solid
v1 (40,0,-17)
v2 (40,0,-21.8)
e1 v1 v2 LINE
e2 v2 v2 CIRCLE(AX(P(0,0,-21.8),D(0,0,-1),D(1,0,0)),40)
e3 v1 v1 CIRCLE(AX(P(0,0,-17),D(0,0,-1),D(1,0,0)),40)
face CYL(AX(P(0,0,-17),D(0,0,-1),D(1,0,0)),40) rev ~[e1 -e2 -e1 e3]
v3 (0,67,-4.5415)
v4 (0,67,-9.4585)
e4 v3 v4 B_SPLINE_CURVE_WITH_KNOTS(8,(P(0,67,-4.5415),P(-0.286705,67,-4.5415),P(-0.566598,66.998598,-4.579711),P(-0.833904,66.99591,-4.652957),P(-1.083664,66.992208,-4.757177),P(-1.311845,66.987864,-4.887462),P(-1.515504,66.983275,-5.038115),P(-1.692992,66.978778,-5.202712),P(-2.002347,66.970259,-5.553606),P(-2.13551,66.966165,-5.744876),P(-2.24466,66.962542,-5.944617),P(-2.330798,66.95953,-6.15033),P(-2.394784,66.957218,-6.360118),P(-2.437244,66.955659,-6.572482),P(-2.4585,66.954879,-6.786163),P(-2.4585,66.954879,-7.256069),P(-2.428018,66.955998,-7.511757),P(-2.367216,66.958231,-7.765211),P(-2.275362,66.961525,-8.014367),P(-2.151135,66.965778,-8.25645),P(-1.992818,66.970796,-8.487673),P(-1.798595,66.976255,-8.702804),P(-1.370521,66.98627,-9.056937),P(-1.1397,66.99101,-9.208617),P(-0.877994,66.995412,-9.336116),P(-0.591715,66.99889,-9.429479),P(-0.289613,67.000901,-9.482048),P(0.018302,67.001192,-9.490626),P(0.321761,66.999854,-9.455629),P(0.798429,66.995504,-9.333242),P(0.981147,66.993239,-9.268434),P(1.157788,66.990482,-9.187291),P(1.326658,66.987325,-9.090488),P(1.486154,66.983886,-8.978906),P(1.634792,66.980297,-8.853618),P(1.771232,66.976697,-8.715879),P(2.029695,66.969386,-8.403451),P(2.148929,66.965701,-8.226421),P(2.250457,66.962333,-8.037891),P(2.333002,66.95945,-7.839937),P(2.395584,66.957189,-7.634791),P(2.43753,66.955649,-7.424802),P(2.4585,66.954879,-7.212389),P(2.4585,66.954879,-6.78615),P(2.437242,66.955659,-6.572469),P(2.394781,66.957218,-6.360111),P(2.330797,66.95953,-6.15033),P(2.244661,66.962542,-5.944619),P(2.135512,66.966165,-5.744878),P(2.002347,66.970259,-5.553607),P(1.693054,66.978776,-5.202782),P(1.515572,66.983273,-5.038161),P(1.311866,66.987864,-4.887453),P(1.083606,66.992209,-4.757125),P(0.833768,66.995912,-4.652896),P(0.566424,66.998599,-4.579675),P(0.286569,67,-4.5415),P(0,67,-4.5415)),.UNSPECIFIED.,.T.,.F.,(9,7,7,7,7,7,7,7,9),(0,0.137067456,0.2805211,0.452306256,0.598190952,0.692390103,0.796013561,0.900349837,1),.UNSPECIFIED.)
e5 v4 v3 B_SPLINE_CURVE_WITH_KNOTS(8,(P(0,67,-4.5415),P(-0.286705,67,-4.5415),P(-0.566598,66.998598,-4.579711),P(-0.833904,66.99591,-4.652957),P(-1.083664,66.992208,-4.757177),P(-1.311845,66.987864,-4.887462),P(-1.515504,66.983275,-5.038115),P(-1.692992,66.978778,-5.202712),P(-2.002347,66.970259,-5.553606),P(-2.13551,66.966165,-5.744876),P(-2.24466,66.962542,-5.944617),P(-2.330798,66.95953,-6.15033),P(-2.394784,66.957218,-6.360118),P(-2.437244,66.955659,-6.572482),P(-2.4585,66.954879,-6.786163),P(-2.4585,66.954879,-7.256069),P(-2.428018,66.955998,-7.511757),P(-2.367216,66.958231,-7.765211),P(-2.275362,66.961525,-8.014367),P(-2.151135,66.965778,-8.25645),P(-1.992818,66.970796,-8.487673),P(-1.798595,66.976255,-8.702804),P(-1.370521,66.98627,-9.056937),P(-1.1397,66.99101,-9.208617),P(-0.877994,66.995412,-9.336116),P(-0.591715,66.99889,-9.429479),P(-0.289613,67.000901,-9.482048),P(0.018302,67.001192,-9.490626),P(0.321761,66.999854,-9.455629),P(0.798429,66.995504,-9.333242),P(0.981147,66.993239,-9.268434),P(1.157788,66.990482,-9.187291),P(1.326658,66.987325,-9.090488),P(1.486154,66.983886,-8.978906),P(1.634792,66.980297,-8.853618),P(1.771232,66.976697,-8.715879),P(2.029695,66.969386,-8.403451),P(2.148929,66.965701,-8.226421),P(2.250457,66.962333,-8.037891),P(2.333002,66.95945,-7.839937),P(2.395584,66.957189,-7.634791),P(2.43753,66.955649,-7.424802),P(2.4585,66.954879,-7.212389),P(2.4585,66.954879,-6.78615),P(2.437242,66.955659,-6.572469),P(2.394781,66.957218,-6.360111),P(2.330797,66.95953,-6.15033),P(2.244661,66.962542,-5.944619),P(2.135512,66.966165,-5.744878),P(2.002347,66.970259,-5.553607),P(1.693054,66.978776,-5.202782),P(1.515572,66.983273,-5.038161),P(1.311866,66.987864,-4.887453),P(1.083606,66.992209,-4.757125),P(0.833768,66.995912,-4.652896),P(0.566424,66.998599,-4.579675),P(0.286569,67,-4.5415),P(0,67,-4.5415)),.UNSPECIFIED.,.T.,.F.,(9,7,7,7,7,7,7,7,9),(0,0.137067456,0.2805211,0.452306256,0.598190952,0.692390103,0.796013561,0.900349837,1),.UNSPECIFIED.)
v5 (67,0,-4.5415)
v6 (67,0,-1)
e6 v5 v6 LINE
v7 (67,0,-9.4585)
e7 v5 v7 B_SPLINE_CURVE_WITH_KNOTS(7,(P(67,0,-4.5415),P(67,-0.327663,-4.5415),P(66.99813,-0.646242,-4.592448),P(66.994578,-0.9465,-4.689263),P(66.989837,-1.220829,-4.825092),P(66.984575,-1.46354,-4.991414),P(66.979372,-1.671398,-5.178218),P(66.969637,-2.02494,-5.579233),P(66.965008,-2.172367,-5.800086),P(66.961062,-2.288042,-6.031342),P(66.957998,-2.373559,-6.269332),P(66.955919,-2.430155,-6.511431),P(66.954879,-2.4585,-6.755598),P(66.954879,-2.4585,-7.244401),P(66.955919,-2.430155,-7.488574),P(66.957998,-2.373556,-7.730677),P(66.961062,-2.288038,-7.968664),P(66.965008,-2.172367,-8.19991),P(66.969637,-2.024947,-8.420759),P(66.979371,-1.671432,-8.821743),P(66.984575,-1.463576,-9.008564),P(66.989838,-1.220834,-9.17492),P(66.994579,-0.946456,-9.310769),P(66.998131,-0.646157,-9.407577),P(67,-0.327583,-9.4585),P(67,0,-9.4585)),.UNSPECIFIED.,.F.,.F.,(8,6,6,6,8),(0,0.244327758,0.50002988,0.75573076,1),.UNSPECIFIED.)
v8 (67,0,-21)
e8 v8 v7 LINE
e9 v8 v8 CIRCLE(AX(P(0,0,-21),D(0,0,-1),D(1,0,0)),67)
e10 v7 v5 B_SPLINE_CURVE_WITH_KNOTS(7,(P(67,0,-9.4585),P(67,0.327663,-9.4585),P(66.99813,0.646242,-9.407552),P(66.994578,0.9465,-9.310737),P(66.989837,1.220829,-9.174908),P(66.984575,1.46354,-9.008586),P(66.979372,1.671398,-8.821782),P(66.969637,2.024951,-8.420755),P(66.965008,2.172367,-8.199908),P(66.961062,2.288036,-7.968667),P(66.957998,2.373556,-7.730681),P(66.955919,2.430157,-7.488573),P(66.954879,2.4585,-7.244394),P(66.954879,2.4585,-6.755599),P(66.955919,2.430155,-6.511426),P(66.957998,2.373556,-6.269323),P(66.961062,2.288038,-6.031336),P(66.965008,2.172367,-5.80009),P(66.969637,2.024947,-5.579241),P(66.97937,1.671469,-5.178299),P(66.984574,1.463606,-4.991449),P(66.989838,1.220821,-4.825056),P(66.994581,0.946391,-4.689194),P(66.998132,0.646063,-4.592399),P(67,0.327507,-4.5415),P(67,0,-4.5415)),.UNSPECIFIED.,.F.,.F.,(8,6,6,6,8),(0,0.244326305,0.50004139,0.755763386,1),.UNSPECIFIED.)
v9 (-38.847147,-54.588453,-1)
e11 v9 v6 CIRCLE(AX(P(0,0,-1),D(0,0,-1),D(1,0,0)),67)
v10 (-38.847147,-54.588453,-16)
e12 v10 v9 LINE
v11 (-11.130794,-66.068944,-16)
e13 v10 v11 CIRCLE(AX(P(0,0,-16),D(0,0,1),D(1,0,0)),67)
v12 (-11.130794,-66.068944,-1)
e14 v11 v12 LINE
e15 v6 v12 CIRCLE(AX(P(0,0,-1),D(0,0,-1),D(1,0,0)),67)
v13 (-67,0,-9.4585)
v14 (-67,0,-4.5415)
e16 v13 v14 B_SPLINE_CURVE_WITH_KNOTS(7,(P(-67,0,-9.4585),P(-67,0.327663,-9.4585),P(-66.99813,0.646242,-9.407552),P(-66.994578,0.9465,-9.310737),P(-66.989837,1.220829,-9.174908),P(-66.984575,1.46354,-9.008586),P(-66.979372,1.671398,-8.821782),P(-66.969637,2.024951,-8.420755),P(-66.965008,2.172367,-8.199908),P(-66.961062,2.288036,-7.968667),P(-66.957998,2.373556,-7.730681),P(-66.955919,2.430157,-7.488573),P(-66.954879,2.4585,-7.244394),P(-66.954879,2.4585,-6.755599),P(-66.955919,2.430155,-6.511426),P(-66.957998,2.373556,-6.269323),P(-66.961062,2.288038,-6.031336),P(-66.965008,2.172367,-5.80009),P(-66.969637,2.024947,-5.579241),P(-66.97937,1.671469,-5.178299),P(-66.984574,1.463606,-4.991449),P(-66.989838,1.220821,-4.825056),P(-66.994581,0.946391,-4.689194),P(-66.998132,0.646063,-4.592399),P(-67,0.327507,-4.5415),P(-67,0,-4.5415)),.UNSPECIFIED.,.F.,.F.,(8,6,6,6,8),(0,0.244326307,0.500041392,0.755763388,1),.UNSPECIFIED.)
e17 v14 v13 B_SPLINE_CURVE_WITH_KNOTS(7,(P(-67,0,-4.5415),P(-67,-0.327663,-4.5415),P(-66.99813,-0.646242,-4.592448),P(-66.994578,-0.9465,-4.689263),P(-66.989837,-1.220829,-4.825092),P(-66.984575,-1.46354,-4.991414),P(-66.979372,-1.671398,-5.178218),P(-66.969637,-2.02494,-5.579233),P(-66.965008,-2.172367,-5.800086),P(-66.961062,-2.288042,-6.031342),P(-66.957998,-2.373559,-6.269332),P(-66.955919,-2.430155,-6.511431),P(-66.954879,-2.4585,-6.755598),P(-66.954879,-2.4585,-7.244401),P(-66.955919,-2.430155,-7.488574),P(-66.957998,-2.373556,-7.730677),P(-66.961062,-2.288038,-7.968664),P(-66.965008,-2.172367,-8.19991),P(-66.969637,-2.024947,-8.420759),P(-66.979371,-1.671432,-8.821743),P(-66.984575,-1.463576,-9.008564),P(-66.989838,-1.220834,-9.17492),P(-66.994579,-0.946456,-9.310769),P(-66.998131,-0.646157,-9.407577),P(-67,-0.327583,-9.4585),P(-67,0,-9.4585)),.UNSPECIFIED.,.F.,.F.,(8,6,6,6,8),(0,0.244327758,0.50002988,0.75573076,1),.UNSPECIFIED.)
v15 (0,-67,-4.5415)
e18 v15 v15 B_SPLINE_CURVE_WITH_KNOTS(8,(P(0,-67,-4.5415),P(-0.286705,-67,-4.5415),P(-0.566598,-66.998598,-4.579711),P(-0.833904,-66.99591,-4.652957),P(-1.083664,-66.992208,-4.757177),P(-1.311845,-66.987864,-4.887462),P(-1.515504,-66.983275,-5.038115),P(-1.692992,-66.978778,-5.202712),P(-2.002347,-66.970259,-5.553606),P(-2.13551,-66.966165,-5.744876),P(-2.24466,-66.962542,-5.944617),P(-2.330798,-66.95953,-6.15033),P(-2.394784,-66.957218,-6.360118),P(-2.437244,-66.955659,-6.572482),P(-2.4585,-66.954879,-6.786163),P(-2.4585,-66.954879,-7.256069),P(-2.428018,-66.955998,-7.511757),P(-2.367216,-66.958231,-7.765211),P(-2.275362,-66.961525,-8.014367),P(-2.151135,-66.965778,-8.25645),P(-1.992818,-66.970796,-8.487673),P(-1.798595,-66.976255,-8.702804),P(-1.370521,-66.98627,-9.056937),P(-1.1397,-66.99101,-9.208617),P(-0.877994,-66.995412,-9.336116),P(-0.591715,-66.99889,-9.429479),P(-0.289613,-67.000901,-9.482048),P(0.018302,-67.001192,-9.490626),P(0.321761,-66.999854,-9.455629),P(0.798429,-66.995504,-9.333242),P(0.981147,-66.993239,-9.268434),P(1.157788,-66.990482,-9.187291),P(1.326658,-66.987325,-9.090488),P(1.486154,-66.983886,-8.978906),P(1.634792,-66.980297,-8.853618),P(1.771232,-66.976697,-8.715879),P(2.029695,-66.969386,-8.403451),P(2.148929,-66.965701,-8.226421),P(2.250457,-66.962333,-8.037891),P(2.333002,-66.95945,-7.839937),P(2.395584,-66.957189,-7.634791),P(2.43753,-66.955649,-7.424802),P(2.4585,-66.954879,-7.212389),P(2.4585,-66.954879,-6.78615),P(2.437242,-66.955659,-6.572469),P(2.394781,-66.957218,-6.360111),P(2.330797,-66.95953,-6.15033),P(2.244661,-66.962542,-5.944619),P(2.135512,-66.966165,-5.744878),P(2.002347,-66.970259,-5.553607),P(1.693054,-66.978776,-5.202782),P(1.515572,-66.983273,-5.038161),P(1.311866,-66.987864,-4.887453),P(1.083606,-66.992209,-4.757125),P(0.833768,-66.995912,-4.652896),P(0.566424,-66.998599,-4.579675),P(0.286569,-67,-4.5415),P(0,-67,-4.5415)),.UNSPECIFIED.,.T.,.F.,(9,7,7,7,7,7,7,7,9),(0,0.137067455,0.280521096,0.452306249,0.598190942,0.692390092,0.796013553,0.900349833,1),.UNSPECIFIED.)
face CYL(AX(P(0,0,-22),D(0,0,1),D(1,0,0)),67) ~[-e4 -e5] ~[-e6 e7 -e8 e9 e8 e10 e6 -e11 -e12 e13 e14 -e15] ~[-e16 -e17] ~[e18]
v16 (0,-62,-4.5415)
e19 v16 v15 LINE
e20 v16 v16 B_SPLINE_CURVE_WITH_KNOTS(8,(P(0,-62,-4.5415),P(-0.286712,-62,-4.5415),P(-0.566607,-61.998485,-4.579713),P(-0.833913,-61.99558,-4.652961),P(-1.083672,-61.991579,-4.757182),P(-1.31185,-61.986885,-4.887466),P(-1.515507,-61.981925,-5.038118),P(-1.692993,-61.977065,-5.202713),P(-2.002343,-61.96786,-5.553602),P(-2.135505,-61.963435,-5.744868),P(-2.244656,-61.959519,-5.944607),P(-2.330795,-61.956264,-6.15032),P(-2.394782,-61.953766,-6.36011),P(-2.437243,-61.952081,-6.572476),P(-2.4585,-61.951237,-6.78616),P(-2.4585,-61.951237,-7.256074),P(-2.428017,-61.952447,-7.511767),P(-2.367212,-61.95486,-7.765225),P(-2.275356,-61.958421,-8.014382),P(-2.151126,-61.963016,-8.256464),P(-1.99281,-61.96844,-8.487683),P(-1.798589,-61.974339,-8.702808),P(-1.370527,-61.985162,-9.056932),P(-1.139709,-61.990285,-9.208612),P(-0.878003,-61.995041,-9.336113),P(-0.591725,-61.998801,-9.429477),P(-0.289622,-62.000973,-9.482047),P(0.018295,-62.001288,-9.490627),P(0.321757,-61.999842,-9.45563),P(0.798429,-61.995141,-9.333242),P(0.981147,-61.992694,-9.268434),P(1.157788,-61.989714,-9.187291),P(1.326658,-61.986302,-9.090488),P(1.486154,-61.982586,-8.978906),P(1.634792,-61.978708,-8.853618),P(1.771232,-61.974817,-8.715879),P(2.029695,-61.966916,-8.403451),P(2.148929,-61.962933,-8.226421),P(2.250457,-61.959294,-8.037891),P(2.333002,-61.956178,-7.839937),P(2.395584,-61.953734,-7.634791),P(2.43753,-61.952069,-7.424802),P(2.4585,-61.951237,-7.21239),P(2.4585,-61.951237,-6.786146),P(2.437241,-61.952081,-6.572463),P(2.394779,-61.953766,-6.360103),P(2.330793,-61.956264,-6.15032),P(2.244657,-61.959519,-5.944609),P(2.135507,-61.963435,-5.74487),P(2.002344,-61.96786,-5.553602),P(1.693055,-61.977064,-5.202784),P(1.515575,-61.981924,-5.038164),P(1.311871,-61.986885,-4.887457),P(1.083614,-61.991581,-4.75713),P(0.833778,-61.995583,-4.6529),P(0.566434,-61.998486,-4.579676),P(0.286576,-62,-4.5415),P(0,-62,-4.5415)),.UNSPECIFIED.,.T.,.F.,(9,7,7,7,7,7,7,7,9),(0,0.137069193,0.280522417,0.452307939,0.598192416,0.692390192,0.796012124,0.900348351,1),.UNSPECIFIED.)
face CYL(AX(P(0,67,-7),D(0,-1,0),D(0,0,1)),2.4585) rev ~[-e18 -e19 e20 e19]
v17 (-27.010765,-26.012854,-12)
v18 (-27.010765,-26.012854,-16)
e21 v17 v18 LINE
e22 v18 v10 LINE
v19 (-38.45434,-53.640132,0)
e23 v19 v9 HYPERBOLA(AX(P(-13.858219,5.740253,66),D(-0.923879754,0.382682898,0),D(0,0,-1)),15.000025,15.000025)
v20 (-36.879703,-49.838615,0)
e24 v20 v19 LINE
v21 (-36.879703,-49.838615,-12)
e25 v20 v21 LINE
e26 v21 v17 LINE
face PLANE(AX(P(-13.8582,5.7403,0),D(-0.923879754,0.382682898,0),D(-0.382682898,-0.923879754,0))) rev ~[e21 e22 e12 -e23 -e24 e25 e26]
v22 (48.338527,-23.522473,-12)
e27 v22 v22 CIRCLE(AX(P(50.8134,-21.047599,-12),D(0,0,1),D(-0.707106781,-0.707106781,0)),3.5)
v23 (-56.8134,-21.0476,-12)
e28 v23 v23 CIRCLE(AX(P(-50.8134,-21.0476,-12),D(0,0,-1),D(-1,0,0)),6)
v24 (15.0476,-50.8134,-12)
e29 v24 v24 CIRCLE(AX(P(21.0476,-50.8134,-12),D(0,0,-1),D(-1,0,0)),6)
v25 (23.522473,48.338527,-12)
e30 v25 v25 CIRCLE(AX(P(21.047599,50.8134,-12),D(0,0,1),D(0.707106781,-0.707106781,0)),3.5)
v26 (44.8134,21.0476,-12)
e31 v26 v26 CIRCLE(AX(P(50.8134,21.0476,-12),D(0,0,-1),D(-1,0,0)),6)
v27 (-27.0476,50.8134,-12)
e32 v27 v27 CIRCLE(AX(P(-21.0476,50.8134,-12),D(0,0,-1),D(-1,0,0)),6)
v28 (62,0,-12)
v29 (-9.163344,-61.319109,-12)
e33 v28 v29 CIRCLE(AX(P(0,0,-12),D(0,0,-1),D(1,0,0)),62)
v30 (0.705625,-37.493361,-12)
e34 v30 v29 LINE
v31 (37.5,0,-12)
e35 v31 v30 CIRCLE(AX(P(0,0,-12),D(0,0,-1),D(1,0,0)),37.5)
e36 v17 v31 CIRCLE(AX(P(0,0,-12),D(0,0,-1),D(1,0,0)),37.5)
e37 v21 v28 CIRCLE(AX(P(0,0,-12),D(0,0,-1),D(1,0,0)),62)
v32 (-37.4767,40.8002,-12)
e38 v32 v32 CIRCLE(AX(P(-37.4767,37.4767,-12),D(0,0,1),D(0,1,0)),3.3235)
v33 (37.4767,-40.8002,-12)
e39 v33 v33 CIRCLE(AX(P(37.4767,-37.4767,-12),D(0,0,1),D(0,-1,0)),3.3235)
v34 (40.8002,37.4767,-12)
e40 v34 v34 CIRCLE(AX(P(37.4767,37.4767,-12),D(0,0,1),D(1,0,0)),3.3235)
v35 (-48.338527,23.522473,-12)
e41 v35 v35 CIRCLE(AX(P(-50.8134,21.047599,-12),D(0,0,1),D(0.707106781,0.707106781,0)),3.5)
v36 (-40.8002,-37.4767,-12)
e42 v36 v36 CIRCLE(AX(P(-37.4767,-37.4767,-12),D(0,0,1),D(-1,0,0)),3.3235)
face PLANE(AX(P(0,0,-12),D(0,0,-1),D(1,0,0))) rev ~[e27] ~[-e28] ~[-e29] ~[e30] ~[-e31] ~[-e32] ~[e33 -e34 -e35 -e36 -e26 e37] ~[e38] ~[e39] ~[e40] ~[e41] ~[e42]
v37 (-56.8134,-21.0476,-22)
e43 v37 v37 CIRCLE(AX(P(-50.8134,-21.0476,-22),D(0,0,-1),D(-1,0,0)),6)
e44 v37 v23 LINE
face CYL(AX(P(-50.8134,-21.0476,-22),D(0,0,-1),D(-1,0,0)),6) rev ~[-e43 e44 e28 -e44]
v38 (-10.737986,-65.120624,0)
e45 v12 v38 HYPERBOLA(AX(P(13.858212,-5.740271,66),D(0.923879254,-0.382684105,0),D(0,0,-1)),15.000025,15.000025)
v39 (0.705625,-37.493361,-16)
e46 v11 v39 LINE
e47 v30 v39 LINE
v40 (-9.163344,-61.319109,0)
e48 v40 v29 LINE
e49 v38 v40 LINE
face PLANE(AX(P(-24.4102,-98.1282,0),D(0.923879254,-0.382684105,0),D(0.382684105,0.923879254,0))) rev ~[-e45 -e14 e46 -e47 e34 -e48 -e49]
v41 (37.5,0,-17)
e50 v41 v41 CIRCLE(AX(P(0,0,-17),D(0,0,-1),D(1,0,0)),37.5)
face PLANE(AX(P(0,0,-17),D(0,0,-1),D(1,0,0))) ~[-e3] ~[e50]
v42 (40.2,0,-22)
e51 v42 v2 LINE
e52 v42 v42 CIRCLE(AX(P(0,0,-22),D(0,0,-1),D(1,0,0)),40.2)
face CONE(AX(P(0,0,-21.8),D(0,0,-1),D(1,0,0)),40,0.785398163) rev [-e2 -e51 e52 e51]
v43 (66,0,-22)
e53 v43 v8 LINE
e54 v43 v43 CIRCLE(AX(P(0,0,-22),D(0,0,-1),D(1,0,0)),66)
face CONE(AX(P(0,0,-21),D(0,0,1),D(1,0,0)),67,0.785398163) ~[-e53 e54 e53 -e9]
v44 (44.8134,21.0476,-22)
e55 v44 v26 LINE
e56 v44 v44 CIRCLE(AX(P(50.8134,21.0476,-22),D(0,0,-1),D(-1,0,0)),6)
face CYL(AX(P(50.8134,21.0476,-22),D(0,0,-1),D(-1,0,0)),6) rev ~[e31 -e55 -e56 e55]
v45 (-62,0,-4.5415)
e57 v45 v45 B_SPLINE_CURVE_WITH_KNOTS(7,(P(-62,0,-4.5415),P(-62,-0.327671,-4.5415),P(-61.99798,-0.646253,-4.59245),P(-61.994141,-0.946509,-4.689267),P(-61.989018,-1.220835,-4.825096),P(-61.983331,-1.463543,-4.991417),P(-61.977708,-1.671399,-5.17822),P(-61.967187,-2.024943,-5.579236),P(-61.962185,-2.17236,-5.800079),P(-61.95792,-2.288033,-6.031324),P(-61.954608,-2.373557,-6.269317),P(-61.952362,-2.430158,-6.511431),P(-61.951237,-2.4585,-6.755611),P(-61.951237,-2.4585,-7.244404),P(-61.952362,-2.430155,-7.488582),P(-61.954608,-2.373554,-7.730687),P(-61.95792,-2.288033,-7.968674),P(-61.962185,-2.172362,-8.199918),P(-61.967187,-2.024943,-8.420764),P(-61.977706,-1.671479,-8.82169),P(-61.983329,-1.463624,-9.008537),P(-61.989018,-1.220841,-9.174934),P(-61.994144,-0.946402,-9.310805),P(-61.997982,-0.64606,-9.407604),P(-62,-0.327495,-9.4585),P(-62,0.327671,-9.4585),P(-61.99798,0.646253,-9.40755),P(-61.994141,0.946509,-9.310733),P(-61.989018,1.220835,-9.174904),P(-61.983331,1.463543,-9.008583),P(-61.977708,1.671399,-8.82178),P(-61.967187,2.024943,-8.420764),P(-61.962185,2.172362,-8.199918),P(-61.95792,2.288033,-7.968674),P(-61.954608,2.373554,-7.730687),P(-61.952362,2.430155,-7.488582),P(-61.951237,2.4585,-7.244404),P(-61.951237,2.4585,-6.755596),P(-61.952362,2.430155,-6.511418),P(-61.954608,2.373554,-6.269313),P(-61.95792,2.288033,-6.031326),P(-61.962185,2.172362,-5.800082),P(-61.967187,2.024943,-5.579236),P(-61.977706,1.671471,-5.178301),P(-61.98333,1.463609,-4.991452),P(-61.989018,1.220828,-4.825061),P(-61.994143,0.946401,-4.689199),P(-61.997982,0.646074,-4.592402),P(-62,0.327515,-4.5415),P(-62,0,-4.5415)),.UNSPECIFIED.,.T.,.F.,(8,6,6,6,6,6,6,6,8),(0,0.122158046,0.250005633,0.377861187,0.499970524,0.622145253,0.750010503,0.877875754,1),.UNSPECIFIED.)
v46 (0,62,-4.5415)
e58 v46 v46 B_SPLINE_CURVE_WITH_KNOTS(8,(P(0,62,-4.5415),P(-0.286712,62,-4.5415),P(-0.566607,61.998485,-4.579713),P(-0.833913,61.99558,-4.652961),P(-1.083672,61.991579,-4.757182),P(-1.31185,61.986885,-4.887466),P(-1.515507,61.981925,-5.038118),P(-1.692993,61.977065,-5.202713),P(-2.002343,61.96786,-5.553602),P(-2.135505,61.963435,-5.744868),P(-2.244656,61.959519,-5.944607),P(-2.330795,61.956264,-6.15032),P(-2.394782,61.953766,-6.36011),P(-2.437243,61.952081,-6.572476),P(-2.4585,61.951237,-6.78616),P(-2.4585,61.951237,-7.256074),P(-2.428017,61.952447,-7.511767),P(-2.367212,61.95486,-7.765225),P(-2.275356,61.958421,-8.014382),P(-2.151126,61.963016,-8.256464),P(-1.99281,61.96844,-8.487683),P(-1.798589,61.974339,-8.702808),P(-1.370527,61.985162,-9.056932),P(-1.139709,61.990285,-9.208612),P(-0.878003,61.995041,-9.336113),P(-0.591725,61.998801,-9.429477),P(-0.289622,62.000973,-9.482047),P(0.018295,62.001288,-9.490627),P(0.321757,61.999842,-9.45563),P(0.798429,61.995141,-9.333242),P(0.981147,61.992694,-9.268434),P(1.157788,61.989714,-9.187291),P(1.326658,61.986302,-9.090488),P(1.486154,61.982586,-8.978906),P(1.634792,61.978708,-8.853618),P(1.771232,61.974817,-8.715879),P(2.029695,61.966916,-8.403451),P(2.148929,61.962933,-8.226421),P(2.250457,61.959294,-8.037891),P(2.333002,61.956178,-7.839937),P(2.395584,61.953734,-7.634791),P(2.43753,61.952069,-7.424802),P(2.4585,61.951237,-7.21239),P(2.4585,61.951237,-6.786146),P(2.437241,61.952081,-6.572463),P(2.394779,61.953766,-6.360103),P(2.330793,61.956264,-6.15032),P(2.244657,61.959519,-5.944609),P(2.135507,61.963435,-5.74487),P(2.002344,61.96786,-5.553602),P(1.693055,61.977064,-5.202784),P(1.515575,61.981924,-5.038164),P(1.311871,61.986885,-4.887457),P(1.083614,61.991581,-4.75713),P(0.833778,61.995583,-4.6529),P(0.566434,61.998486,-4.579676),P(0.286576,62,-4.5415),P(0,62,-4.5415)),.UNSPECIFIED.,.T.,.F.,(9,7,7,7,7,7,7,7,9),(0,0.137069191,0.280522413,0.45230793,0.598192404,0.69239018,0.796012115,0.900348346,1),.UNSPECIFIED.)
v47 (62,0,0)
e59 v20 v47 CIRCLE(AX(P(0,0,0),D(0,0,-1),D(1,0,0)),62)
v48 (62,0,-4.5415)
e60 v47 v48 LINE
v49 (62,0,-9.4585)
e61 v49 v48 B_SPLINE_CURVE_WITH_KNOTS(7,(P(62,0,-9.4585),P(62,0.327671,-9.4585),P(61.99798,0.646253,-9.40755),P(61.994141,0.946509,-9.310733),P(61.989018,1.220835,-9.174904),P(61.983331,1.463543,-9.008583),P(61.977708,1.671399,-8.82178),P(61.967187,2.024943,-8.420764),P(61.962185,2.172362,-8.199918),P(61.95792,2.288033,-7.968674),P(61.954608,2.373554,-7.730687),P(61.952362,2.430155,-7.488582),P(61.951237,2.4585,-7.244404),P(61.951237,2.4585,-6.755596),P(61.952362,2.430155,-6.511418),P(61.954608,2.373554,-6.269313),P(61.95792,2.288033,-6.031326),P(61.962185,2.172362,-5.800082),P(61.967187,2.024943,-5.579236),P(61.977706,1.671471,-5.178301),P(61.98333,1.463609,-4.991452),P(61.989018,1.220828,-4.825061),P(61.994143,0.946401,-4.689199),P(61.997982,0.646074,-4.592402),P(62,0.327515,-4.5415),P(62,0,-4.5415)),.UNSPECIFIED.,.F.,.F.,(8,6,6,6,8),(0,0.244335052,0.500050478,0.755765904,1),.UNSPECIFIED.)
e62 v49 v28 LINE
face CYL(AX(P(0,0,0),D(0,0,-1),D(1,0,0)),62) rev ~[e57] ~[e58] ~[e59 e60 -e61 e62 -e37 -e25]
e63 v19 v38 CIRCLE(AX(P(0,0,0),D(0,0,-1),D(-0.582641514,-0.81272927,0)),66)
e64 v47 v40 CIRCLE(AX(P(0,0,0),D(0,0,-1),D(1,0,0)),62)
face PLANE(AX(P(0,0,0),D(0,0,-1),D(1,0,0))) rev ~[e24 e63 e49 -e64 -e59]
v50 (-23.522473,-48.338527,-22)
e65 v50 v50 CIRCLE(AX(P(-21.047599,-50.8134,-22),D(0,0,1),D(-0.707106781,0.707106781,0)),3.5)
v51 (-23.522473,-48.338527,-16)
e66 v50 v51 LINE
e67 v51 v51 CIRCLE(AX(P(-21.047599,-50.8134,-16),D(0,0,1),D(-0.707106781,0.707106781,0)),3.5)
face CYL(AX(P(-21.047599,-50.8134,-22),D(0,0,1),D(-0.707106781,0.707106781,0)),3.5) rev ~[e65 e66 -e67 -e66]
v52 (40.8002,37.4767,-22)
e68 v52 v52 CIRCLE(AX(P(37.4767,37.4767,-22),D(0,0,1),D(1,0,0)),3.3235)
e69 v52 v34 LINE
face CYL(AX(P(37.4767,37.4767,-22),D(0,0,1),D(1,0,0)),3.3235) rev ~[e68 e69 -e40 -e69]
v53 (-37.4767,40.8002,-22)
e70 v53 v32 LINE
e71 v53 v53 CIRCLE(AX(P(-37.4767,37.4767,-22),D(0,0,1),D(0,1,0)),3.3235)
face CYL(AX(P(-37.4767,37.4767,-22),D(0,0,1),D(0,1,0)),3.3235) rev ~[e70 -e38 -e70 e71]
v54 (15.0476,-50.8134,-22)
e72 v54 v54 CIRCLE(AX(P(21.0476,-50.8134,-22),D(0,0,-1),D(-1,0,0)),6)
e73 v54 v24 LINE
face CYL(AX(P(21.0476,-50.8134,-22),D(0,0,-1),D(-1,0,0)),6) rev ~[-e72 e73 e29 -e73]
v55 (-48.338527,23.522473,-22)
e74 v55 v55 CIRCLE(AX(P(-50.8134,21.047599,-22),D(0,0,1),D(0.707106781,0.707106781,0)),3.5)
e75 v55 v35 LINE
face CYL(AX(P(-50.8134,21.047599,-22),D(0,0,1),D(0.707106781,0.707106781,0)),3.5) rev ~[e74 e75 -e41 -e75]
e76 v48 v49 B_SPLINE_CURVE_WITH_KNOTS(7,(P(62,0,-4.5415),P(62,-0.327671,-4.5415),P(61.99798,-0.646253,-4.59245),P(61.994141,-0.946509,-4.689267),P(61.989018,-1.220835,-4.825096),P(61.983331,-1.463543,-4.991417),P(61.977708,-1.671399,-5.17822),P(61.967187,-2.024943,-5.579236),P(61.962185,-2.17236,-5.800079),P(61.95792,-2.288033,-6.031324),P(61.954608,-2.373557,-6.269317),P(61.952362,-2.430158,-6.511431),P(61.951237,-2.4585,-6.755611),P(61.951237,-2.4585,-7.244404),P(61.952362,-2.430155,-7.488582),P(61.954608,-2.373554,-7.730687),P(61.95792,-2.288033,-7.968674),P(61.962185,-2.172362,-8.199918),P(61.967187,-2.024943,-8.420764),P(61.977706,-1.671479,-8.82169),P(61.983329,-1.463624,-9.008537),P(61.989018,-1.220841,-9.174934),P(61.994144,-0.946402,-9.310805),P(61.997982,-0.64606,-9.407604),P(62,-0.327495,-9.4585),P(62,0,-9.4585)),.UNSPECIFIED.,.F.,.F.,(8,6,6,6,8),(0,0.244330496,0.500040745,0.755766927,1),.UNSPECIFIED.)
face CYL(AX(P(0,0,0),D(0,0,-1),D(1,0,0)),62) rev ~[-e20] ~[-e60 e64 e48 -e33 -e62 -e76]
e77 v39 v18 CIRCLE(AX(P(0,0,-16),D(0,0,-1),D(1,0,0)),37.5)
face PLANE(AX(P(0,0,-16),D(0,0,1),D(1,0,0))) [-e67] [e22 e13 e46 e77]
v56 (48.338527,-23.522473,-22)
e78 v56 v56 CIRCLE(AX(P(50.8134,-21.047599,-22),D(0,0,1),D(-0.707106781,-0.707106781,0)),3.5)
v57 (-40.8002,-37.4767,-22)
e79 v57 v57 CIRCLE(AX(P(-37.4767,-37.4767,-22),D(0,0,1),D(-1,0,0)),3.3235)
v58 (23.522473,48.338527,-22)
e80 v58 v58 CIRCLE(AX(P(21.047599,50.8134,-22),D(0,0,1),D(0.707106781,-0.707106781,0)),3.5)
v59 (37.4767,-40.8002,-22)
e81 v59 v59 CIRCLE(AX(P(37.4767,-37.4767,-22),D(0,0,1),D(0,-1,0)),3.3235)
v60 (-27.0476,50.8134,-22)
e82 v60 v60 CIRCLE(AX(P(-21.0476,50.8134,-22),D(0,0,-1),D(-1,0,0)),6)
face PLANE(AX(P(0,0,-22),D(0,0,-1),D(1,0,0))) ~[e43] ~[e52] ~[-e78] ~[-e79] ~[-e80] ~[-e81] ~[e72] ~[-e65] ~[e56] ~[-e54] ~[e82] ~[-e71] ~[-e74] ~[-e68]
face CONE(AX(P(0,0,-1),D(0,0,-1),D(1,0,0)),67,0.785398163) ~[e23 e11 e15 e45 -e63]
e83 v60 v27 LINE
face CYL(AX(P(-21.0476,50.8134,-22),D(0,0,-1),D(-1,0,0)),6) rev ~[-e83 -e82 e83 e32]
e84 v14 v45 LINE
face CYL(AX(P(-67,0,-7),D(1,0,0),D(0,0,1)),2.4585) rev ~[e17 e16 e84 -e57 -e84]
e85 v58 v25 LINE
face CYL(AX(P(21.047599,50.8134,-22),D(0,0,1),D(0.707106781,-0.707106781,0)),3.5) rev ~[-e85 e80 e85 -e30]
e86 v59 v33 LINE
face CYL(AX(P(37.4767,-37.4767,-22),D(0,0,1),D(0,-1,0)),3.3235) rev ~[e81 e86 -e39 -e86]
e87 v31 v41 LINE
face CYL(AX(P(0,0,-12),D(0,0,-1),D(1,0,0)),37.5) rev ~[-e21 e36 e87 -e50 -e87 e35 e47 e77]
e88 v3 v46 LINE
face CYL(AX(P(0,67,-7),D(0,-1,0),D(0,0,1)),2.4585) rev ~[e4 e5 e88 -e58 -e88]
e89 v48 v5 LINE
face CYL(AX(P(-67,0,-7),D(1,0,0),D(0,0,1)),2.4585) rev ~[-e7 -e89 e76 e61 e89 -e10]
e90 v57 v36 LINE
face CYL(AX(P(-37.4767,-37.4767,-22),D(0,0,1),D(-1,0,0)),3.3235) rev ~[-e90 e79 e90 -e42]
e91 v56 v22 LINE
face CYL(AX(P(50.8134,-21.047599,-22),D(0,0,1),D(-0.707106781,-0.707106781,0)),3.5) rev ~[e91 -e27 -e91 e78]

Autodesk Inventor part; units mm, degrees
ref_plane "XY Plane" through (0, 0, 0) normal (0, 0, 1) x (1, 0, 0)
sketch "Sketch1" plane through (0, 0, 0) normal (0, 1, 0) x (-1, 0, 0)
  line L0 (0, 0) -> (0, -51.1103) construction
  line L1 (-37.5, -17) -> (-40, -17)
  line L2 (-40, -17) -> (-40, -22)
  line L3 (-40, -22) -> (-67, -22)
  line L4 (-67, -22) -> (-67, 0)
  line L5 (-67, 0) -> (-62, 0)
  line L6 (-62, 0) -> (-62, -12)
  line L7 (-62, -12) -> (-37.5, -12)
  line L8 (-37.5, -12) -> (-37.5, -17)
  dimension "d0" = 75
  dimension "d1" = 80
  dimension "d2" = 5
  dimension "d3" = 124
  dimension "d4" = 134
  dimension "d5" = 12
  dimension "d8" = 5
revolve "Revolution1" add sketch "Sketch1" angle 360 about axis through (0, 0, 0) along (0, 0, -1)
sketch "Sketch2" plane through (0, 0, -22) normal (0, 0, -1) x (-1, 0, 0)
  line L0 (0, 0) -> (103.3512, 0)
  line L1 (0, 0) -> (37.4767, 37.4767)
  circle A0 centre (37.4767, 37.4767) radius 7.75
  circle A1 centre (0, 0) radius 44.45 projected
  dimension "d10" = 53
  dimension "d72" = 45
  dimension "d79" = 15.5
hole "Hole1" at (-37.4767, 37.4767, -22) direction (0, 0, 1) diameter 6.647 depth 22.2 tip angle 118 thread size "M8x1.25" class "6H" standard "ANSI Metric M Profile"
pattern_circular "Circular Pattern1" count 4 over 360 about axis through (0, 0, -11) along (0, 0, 1) of "Hole1"
sketch "Sketch3" plane through (0, 0, -22) normal (0, 0, -1) x (-1, 0, 0)
  circle A0 centre (0, 0) radius 62 projected
  line L0 (62, 0) -> (0, 0)
  line L1 (50.8134, -21.0476) -> (0, 0)
  point P0 (47.6314, 27.5)
  point P1 (0, 55)
  point P2 (-47.6314, 27.5)
  point P3 (-47.6314, -27.5)
  point P4 (0, -55)
  dimension "d25" = 55
  dimension "d37" = 22.5
hole "Hole2" at (-50.8134, -21.0476, -22) direction (0, 0, 1) diameter 7 end through all clearance for "Countersunk Flat Head Screw DIN EN ISO 2009" size "M6" standard "DIN"
pattern_circular "Circular Pattern2" count 8 over 360 about axis through (0, 0, -11) along (0, 0, 1) of "Hole2"
chamfer "Chamfer1" distance 1 angle 45 2 edges at (-67, 0, -22) (-67, 0, 0)
chamfer "Chamfer2" distance 0.2 angle 45 1 edges at (-40, 0, -22)
ref_plane "Work Plane1" through (-67, 0, -11) normal (1, 0, 0) x (0, 1, 0)
ref_plane "Work Plane2" through (0, 67, -11) normal (0, 1, 0) x (-1, 0, 0)
sketch "Sketch4" plane through (0, 67, -11) normal (0, 1, 0) x (-1, 0, 0)
  line L0 (66, -11) -> (-66, -11) projected
  point P0 (0, 11)
  point P1 (0, 4)
  point P2 (0, -11)
  dimension "d44" = 15
hole "Hole3" at (0, 67, -7) direction (0, -1, 0) diameter 4.917 end through all thread size "M6x1" class "6H" standard "ANSI Metric M Profile"
sketch "Sketch5" plane through (-67, 0, -11) normal (1, 0, 0) x (0, 1, 0)
  line L0 (66, -11) -> (-66, -11) projected
  point P0 (0, 11)
  point P1 (0, 4)
  point P2 (0, -11)
  dimension "d52" = 15
hole "Hole4" at (-67, 0, -7) direction (1, 0, 0) diameter 4.917 end through all thread size "M6x1" class "6H" standard "ANSI Metric M Profile"
sketch "Sketch6" plane through (0, 0, 0) normal (0, 0, 1) x (1, 0, 0)
  line L0 (-13.8582, 5.7403) -> (-52.1265, -86.6477)
  line L1 (-52.1265, -86.6477) -> (-24.4102, -98.1282)
  line L2 (-24.4102, -98.1282) -> (13.8582, -5.7403)
  line L3 (13.8582, -5.7403) -> (-13.8582, 5.7403)
  line L4 (0, 0) -> (26.9021, 0)
  dimension "d60" = 30
  dimension "d61" = 100
  dimension "d65" = 22.5
extrude "Extrusion1" cut sketch "Sketch6" against normal blind 16
sketch "Sketch8" plane through (0, 0, -22) normal (0, 0, -1) x (-1, 0, 0)
  circle A0 centre (-50.8134, 21.0476) radius 3.5 projected
  circle A1 centre (-21.0476, -50.8134) radius 3.5 projected
  circle A2 centre (50.8134, -21.0476) radius 3.5 projected
  circle A3 centre (21.0476, 50.8134) radius 3.5 projected
  circle A4 centre (-50.8134, 21.0476) radius 6
  circle A5 centre (21.0476, 50.8134) radius 6
  circle A6 centre (-21.0476, -50.8134) radius 6
  circle A7 centre (50.8134, -21.0476) radius 6
  point P0 (0, 0)
  dimension "d76" = 12
extrude "Extrusion3" cut sketch "Sketch8" against normal through all contours A0 | A4 | A5 | A6 | A7
properties part number "006" material "Stainless Steel, 440C"
